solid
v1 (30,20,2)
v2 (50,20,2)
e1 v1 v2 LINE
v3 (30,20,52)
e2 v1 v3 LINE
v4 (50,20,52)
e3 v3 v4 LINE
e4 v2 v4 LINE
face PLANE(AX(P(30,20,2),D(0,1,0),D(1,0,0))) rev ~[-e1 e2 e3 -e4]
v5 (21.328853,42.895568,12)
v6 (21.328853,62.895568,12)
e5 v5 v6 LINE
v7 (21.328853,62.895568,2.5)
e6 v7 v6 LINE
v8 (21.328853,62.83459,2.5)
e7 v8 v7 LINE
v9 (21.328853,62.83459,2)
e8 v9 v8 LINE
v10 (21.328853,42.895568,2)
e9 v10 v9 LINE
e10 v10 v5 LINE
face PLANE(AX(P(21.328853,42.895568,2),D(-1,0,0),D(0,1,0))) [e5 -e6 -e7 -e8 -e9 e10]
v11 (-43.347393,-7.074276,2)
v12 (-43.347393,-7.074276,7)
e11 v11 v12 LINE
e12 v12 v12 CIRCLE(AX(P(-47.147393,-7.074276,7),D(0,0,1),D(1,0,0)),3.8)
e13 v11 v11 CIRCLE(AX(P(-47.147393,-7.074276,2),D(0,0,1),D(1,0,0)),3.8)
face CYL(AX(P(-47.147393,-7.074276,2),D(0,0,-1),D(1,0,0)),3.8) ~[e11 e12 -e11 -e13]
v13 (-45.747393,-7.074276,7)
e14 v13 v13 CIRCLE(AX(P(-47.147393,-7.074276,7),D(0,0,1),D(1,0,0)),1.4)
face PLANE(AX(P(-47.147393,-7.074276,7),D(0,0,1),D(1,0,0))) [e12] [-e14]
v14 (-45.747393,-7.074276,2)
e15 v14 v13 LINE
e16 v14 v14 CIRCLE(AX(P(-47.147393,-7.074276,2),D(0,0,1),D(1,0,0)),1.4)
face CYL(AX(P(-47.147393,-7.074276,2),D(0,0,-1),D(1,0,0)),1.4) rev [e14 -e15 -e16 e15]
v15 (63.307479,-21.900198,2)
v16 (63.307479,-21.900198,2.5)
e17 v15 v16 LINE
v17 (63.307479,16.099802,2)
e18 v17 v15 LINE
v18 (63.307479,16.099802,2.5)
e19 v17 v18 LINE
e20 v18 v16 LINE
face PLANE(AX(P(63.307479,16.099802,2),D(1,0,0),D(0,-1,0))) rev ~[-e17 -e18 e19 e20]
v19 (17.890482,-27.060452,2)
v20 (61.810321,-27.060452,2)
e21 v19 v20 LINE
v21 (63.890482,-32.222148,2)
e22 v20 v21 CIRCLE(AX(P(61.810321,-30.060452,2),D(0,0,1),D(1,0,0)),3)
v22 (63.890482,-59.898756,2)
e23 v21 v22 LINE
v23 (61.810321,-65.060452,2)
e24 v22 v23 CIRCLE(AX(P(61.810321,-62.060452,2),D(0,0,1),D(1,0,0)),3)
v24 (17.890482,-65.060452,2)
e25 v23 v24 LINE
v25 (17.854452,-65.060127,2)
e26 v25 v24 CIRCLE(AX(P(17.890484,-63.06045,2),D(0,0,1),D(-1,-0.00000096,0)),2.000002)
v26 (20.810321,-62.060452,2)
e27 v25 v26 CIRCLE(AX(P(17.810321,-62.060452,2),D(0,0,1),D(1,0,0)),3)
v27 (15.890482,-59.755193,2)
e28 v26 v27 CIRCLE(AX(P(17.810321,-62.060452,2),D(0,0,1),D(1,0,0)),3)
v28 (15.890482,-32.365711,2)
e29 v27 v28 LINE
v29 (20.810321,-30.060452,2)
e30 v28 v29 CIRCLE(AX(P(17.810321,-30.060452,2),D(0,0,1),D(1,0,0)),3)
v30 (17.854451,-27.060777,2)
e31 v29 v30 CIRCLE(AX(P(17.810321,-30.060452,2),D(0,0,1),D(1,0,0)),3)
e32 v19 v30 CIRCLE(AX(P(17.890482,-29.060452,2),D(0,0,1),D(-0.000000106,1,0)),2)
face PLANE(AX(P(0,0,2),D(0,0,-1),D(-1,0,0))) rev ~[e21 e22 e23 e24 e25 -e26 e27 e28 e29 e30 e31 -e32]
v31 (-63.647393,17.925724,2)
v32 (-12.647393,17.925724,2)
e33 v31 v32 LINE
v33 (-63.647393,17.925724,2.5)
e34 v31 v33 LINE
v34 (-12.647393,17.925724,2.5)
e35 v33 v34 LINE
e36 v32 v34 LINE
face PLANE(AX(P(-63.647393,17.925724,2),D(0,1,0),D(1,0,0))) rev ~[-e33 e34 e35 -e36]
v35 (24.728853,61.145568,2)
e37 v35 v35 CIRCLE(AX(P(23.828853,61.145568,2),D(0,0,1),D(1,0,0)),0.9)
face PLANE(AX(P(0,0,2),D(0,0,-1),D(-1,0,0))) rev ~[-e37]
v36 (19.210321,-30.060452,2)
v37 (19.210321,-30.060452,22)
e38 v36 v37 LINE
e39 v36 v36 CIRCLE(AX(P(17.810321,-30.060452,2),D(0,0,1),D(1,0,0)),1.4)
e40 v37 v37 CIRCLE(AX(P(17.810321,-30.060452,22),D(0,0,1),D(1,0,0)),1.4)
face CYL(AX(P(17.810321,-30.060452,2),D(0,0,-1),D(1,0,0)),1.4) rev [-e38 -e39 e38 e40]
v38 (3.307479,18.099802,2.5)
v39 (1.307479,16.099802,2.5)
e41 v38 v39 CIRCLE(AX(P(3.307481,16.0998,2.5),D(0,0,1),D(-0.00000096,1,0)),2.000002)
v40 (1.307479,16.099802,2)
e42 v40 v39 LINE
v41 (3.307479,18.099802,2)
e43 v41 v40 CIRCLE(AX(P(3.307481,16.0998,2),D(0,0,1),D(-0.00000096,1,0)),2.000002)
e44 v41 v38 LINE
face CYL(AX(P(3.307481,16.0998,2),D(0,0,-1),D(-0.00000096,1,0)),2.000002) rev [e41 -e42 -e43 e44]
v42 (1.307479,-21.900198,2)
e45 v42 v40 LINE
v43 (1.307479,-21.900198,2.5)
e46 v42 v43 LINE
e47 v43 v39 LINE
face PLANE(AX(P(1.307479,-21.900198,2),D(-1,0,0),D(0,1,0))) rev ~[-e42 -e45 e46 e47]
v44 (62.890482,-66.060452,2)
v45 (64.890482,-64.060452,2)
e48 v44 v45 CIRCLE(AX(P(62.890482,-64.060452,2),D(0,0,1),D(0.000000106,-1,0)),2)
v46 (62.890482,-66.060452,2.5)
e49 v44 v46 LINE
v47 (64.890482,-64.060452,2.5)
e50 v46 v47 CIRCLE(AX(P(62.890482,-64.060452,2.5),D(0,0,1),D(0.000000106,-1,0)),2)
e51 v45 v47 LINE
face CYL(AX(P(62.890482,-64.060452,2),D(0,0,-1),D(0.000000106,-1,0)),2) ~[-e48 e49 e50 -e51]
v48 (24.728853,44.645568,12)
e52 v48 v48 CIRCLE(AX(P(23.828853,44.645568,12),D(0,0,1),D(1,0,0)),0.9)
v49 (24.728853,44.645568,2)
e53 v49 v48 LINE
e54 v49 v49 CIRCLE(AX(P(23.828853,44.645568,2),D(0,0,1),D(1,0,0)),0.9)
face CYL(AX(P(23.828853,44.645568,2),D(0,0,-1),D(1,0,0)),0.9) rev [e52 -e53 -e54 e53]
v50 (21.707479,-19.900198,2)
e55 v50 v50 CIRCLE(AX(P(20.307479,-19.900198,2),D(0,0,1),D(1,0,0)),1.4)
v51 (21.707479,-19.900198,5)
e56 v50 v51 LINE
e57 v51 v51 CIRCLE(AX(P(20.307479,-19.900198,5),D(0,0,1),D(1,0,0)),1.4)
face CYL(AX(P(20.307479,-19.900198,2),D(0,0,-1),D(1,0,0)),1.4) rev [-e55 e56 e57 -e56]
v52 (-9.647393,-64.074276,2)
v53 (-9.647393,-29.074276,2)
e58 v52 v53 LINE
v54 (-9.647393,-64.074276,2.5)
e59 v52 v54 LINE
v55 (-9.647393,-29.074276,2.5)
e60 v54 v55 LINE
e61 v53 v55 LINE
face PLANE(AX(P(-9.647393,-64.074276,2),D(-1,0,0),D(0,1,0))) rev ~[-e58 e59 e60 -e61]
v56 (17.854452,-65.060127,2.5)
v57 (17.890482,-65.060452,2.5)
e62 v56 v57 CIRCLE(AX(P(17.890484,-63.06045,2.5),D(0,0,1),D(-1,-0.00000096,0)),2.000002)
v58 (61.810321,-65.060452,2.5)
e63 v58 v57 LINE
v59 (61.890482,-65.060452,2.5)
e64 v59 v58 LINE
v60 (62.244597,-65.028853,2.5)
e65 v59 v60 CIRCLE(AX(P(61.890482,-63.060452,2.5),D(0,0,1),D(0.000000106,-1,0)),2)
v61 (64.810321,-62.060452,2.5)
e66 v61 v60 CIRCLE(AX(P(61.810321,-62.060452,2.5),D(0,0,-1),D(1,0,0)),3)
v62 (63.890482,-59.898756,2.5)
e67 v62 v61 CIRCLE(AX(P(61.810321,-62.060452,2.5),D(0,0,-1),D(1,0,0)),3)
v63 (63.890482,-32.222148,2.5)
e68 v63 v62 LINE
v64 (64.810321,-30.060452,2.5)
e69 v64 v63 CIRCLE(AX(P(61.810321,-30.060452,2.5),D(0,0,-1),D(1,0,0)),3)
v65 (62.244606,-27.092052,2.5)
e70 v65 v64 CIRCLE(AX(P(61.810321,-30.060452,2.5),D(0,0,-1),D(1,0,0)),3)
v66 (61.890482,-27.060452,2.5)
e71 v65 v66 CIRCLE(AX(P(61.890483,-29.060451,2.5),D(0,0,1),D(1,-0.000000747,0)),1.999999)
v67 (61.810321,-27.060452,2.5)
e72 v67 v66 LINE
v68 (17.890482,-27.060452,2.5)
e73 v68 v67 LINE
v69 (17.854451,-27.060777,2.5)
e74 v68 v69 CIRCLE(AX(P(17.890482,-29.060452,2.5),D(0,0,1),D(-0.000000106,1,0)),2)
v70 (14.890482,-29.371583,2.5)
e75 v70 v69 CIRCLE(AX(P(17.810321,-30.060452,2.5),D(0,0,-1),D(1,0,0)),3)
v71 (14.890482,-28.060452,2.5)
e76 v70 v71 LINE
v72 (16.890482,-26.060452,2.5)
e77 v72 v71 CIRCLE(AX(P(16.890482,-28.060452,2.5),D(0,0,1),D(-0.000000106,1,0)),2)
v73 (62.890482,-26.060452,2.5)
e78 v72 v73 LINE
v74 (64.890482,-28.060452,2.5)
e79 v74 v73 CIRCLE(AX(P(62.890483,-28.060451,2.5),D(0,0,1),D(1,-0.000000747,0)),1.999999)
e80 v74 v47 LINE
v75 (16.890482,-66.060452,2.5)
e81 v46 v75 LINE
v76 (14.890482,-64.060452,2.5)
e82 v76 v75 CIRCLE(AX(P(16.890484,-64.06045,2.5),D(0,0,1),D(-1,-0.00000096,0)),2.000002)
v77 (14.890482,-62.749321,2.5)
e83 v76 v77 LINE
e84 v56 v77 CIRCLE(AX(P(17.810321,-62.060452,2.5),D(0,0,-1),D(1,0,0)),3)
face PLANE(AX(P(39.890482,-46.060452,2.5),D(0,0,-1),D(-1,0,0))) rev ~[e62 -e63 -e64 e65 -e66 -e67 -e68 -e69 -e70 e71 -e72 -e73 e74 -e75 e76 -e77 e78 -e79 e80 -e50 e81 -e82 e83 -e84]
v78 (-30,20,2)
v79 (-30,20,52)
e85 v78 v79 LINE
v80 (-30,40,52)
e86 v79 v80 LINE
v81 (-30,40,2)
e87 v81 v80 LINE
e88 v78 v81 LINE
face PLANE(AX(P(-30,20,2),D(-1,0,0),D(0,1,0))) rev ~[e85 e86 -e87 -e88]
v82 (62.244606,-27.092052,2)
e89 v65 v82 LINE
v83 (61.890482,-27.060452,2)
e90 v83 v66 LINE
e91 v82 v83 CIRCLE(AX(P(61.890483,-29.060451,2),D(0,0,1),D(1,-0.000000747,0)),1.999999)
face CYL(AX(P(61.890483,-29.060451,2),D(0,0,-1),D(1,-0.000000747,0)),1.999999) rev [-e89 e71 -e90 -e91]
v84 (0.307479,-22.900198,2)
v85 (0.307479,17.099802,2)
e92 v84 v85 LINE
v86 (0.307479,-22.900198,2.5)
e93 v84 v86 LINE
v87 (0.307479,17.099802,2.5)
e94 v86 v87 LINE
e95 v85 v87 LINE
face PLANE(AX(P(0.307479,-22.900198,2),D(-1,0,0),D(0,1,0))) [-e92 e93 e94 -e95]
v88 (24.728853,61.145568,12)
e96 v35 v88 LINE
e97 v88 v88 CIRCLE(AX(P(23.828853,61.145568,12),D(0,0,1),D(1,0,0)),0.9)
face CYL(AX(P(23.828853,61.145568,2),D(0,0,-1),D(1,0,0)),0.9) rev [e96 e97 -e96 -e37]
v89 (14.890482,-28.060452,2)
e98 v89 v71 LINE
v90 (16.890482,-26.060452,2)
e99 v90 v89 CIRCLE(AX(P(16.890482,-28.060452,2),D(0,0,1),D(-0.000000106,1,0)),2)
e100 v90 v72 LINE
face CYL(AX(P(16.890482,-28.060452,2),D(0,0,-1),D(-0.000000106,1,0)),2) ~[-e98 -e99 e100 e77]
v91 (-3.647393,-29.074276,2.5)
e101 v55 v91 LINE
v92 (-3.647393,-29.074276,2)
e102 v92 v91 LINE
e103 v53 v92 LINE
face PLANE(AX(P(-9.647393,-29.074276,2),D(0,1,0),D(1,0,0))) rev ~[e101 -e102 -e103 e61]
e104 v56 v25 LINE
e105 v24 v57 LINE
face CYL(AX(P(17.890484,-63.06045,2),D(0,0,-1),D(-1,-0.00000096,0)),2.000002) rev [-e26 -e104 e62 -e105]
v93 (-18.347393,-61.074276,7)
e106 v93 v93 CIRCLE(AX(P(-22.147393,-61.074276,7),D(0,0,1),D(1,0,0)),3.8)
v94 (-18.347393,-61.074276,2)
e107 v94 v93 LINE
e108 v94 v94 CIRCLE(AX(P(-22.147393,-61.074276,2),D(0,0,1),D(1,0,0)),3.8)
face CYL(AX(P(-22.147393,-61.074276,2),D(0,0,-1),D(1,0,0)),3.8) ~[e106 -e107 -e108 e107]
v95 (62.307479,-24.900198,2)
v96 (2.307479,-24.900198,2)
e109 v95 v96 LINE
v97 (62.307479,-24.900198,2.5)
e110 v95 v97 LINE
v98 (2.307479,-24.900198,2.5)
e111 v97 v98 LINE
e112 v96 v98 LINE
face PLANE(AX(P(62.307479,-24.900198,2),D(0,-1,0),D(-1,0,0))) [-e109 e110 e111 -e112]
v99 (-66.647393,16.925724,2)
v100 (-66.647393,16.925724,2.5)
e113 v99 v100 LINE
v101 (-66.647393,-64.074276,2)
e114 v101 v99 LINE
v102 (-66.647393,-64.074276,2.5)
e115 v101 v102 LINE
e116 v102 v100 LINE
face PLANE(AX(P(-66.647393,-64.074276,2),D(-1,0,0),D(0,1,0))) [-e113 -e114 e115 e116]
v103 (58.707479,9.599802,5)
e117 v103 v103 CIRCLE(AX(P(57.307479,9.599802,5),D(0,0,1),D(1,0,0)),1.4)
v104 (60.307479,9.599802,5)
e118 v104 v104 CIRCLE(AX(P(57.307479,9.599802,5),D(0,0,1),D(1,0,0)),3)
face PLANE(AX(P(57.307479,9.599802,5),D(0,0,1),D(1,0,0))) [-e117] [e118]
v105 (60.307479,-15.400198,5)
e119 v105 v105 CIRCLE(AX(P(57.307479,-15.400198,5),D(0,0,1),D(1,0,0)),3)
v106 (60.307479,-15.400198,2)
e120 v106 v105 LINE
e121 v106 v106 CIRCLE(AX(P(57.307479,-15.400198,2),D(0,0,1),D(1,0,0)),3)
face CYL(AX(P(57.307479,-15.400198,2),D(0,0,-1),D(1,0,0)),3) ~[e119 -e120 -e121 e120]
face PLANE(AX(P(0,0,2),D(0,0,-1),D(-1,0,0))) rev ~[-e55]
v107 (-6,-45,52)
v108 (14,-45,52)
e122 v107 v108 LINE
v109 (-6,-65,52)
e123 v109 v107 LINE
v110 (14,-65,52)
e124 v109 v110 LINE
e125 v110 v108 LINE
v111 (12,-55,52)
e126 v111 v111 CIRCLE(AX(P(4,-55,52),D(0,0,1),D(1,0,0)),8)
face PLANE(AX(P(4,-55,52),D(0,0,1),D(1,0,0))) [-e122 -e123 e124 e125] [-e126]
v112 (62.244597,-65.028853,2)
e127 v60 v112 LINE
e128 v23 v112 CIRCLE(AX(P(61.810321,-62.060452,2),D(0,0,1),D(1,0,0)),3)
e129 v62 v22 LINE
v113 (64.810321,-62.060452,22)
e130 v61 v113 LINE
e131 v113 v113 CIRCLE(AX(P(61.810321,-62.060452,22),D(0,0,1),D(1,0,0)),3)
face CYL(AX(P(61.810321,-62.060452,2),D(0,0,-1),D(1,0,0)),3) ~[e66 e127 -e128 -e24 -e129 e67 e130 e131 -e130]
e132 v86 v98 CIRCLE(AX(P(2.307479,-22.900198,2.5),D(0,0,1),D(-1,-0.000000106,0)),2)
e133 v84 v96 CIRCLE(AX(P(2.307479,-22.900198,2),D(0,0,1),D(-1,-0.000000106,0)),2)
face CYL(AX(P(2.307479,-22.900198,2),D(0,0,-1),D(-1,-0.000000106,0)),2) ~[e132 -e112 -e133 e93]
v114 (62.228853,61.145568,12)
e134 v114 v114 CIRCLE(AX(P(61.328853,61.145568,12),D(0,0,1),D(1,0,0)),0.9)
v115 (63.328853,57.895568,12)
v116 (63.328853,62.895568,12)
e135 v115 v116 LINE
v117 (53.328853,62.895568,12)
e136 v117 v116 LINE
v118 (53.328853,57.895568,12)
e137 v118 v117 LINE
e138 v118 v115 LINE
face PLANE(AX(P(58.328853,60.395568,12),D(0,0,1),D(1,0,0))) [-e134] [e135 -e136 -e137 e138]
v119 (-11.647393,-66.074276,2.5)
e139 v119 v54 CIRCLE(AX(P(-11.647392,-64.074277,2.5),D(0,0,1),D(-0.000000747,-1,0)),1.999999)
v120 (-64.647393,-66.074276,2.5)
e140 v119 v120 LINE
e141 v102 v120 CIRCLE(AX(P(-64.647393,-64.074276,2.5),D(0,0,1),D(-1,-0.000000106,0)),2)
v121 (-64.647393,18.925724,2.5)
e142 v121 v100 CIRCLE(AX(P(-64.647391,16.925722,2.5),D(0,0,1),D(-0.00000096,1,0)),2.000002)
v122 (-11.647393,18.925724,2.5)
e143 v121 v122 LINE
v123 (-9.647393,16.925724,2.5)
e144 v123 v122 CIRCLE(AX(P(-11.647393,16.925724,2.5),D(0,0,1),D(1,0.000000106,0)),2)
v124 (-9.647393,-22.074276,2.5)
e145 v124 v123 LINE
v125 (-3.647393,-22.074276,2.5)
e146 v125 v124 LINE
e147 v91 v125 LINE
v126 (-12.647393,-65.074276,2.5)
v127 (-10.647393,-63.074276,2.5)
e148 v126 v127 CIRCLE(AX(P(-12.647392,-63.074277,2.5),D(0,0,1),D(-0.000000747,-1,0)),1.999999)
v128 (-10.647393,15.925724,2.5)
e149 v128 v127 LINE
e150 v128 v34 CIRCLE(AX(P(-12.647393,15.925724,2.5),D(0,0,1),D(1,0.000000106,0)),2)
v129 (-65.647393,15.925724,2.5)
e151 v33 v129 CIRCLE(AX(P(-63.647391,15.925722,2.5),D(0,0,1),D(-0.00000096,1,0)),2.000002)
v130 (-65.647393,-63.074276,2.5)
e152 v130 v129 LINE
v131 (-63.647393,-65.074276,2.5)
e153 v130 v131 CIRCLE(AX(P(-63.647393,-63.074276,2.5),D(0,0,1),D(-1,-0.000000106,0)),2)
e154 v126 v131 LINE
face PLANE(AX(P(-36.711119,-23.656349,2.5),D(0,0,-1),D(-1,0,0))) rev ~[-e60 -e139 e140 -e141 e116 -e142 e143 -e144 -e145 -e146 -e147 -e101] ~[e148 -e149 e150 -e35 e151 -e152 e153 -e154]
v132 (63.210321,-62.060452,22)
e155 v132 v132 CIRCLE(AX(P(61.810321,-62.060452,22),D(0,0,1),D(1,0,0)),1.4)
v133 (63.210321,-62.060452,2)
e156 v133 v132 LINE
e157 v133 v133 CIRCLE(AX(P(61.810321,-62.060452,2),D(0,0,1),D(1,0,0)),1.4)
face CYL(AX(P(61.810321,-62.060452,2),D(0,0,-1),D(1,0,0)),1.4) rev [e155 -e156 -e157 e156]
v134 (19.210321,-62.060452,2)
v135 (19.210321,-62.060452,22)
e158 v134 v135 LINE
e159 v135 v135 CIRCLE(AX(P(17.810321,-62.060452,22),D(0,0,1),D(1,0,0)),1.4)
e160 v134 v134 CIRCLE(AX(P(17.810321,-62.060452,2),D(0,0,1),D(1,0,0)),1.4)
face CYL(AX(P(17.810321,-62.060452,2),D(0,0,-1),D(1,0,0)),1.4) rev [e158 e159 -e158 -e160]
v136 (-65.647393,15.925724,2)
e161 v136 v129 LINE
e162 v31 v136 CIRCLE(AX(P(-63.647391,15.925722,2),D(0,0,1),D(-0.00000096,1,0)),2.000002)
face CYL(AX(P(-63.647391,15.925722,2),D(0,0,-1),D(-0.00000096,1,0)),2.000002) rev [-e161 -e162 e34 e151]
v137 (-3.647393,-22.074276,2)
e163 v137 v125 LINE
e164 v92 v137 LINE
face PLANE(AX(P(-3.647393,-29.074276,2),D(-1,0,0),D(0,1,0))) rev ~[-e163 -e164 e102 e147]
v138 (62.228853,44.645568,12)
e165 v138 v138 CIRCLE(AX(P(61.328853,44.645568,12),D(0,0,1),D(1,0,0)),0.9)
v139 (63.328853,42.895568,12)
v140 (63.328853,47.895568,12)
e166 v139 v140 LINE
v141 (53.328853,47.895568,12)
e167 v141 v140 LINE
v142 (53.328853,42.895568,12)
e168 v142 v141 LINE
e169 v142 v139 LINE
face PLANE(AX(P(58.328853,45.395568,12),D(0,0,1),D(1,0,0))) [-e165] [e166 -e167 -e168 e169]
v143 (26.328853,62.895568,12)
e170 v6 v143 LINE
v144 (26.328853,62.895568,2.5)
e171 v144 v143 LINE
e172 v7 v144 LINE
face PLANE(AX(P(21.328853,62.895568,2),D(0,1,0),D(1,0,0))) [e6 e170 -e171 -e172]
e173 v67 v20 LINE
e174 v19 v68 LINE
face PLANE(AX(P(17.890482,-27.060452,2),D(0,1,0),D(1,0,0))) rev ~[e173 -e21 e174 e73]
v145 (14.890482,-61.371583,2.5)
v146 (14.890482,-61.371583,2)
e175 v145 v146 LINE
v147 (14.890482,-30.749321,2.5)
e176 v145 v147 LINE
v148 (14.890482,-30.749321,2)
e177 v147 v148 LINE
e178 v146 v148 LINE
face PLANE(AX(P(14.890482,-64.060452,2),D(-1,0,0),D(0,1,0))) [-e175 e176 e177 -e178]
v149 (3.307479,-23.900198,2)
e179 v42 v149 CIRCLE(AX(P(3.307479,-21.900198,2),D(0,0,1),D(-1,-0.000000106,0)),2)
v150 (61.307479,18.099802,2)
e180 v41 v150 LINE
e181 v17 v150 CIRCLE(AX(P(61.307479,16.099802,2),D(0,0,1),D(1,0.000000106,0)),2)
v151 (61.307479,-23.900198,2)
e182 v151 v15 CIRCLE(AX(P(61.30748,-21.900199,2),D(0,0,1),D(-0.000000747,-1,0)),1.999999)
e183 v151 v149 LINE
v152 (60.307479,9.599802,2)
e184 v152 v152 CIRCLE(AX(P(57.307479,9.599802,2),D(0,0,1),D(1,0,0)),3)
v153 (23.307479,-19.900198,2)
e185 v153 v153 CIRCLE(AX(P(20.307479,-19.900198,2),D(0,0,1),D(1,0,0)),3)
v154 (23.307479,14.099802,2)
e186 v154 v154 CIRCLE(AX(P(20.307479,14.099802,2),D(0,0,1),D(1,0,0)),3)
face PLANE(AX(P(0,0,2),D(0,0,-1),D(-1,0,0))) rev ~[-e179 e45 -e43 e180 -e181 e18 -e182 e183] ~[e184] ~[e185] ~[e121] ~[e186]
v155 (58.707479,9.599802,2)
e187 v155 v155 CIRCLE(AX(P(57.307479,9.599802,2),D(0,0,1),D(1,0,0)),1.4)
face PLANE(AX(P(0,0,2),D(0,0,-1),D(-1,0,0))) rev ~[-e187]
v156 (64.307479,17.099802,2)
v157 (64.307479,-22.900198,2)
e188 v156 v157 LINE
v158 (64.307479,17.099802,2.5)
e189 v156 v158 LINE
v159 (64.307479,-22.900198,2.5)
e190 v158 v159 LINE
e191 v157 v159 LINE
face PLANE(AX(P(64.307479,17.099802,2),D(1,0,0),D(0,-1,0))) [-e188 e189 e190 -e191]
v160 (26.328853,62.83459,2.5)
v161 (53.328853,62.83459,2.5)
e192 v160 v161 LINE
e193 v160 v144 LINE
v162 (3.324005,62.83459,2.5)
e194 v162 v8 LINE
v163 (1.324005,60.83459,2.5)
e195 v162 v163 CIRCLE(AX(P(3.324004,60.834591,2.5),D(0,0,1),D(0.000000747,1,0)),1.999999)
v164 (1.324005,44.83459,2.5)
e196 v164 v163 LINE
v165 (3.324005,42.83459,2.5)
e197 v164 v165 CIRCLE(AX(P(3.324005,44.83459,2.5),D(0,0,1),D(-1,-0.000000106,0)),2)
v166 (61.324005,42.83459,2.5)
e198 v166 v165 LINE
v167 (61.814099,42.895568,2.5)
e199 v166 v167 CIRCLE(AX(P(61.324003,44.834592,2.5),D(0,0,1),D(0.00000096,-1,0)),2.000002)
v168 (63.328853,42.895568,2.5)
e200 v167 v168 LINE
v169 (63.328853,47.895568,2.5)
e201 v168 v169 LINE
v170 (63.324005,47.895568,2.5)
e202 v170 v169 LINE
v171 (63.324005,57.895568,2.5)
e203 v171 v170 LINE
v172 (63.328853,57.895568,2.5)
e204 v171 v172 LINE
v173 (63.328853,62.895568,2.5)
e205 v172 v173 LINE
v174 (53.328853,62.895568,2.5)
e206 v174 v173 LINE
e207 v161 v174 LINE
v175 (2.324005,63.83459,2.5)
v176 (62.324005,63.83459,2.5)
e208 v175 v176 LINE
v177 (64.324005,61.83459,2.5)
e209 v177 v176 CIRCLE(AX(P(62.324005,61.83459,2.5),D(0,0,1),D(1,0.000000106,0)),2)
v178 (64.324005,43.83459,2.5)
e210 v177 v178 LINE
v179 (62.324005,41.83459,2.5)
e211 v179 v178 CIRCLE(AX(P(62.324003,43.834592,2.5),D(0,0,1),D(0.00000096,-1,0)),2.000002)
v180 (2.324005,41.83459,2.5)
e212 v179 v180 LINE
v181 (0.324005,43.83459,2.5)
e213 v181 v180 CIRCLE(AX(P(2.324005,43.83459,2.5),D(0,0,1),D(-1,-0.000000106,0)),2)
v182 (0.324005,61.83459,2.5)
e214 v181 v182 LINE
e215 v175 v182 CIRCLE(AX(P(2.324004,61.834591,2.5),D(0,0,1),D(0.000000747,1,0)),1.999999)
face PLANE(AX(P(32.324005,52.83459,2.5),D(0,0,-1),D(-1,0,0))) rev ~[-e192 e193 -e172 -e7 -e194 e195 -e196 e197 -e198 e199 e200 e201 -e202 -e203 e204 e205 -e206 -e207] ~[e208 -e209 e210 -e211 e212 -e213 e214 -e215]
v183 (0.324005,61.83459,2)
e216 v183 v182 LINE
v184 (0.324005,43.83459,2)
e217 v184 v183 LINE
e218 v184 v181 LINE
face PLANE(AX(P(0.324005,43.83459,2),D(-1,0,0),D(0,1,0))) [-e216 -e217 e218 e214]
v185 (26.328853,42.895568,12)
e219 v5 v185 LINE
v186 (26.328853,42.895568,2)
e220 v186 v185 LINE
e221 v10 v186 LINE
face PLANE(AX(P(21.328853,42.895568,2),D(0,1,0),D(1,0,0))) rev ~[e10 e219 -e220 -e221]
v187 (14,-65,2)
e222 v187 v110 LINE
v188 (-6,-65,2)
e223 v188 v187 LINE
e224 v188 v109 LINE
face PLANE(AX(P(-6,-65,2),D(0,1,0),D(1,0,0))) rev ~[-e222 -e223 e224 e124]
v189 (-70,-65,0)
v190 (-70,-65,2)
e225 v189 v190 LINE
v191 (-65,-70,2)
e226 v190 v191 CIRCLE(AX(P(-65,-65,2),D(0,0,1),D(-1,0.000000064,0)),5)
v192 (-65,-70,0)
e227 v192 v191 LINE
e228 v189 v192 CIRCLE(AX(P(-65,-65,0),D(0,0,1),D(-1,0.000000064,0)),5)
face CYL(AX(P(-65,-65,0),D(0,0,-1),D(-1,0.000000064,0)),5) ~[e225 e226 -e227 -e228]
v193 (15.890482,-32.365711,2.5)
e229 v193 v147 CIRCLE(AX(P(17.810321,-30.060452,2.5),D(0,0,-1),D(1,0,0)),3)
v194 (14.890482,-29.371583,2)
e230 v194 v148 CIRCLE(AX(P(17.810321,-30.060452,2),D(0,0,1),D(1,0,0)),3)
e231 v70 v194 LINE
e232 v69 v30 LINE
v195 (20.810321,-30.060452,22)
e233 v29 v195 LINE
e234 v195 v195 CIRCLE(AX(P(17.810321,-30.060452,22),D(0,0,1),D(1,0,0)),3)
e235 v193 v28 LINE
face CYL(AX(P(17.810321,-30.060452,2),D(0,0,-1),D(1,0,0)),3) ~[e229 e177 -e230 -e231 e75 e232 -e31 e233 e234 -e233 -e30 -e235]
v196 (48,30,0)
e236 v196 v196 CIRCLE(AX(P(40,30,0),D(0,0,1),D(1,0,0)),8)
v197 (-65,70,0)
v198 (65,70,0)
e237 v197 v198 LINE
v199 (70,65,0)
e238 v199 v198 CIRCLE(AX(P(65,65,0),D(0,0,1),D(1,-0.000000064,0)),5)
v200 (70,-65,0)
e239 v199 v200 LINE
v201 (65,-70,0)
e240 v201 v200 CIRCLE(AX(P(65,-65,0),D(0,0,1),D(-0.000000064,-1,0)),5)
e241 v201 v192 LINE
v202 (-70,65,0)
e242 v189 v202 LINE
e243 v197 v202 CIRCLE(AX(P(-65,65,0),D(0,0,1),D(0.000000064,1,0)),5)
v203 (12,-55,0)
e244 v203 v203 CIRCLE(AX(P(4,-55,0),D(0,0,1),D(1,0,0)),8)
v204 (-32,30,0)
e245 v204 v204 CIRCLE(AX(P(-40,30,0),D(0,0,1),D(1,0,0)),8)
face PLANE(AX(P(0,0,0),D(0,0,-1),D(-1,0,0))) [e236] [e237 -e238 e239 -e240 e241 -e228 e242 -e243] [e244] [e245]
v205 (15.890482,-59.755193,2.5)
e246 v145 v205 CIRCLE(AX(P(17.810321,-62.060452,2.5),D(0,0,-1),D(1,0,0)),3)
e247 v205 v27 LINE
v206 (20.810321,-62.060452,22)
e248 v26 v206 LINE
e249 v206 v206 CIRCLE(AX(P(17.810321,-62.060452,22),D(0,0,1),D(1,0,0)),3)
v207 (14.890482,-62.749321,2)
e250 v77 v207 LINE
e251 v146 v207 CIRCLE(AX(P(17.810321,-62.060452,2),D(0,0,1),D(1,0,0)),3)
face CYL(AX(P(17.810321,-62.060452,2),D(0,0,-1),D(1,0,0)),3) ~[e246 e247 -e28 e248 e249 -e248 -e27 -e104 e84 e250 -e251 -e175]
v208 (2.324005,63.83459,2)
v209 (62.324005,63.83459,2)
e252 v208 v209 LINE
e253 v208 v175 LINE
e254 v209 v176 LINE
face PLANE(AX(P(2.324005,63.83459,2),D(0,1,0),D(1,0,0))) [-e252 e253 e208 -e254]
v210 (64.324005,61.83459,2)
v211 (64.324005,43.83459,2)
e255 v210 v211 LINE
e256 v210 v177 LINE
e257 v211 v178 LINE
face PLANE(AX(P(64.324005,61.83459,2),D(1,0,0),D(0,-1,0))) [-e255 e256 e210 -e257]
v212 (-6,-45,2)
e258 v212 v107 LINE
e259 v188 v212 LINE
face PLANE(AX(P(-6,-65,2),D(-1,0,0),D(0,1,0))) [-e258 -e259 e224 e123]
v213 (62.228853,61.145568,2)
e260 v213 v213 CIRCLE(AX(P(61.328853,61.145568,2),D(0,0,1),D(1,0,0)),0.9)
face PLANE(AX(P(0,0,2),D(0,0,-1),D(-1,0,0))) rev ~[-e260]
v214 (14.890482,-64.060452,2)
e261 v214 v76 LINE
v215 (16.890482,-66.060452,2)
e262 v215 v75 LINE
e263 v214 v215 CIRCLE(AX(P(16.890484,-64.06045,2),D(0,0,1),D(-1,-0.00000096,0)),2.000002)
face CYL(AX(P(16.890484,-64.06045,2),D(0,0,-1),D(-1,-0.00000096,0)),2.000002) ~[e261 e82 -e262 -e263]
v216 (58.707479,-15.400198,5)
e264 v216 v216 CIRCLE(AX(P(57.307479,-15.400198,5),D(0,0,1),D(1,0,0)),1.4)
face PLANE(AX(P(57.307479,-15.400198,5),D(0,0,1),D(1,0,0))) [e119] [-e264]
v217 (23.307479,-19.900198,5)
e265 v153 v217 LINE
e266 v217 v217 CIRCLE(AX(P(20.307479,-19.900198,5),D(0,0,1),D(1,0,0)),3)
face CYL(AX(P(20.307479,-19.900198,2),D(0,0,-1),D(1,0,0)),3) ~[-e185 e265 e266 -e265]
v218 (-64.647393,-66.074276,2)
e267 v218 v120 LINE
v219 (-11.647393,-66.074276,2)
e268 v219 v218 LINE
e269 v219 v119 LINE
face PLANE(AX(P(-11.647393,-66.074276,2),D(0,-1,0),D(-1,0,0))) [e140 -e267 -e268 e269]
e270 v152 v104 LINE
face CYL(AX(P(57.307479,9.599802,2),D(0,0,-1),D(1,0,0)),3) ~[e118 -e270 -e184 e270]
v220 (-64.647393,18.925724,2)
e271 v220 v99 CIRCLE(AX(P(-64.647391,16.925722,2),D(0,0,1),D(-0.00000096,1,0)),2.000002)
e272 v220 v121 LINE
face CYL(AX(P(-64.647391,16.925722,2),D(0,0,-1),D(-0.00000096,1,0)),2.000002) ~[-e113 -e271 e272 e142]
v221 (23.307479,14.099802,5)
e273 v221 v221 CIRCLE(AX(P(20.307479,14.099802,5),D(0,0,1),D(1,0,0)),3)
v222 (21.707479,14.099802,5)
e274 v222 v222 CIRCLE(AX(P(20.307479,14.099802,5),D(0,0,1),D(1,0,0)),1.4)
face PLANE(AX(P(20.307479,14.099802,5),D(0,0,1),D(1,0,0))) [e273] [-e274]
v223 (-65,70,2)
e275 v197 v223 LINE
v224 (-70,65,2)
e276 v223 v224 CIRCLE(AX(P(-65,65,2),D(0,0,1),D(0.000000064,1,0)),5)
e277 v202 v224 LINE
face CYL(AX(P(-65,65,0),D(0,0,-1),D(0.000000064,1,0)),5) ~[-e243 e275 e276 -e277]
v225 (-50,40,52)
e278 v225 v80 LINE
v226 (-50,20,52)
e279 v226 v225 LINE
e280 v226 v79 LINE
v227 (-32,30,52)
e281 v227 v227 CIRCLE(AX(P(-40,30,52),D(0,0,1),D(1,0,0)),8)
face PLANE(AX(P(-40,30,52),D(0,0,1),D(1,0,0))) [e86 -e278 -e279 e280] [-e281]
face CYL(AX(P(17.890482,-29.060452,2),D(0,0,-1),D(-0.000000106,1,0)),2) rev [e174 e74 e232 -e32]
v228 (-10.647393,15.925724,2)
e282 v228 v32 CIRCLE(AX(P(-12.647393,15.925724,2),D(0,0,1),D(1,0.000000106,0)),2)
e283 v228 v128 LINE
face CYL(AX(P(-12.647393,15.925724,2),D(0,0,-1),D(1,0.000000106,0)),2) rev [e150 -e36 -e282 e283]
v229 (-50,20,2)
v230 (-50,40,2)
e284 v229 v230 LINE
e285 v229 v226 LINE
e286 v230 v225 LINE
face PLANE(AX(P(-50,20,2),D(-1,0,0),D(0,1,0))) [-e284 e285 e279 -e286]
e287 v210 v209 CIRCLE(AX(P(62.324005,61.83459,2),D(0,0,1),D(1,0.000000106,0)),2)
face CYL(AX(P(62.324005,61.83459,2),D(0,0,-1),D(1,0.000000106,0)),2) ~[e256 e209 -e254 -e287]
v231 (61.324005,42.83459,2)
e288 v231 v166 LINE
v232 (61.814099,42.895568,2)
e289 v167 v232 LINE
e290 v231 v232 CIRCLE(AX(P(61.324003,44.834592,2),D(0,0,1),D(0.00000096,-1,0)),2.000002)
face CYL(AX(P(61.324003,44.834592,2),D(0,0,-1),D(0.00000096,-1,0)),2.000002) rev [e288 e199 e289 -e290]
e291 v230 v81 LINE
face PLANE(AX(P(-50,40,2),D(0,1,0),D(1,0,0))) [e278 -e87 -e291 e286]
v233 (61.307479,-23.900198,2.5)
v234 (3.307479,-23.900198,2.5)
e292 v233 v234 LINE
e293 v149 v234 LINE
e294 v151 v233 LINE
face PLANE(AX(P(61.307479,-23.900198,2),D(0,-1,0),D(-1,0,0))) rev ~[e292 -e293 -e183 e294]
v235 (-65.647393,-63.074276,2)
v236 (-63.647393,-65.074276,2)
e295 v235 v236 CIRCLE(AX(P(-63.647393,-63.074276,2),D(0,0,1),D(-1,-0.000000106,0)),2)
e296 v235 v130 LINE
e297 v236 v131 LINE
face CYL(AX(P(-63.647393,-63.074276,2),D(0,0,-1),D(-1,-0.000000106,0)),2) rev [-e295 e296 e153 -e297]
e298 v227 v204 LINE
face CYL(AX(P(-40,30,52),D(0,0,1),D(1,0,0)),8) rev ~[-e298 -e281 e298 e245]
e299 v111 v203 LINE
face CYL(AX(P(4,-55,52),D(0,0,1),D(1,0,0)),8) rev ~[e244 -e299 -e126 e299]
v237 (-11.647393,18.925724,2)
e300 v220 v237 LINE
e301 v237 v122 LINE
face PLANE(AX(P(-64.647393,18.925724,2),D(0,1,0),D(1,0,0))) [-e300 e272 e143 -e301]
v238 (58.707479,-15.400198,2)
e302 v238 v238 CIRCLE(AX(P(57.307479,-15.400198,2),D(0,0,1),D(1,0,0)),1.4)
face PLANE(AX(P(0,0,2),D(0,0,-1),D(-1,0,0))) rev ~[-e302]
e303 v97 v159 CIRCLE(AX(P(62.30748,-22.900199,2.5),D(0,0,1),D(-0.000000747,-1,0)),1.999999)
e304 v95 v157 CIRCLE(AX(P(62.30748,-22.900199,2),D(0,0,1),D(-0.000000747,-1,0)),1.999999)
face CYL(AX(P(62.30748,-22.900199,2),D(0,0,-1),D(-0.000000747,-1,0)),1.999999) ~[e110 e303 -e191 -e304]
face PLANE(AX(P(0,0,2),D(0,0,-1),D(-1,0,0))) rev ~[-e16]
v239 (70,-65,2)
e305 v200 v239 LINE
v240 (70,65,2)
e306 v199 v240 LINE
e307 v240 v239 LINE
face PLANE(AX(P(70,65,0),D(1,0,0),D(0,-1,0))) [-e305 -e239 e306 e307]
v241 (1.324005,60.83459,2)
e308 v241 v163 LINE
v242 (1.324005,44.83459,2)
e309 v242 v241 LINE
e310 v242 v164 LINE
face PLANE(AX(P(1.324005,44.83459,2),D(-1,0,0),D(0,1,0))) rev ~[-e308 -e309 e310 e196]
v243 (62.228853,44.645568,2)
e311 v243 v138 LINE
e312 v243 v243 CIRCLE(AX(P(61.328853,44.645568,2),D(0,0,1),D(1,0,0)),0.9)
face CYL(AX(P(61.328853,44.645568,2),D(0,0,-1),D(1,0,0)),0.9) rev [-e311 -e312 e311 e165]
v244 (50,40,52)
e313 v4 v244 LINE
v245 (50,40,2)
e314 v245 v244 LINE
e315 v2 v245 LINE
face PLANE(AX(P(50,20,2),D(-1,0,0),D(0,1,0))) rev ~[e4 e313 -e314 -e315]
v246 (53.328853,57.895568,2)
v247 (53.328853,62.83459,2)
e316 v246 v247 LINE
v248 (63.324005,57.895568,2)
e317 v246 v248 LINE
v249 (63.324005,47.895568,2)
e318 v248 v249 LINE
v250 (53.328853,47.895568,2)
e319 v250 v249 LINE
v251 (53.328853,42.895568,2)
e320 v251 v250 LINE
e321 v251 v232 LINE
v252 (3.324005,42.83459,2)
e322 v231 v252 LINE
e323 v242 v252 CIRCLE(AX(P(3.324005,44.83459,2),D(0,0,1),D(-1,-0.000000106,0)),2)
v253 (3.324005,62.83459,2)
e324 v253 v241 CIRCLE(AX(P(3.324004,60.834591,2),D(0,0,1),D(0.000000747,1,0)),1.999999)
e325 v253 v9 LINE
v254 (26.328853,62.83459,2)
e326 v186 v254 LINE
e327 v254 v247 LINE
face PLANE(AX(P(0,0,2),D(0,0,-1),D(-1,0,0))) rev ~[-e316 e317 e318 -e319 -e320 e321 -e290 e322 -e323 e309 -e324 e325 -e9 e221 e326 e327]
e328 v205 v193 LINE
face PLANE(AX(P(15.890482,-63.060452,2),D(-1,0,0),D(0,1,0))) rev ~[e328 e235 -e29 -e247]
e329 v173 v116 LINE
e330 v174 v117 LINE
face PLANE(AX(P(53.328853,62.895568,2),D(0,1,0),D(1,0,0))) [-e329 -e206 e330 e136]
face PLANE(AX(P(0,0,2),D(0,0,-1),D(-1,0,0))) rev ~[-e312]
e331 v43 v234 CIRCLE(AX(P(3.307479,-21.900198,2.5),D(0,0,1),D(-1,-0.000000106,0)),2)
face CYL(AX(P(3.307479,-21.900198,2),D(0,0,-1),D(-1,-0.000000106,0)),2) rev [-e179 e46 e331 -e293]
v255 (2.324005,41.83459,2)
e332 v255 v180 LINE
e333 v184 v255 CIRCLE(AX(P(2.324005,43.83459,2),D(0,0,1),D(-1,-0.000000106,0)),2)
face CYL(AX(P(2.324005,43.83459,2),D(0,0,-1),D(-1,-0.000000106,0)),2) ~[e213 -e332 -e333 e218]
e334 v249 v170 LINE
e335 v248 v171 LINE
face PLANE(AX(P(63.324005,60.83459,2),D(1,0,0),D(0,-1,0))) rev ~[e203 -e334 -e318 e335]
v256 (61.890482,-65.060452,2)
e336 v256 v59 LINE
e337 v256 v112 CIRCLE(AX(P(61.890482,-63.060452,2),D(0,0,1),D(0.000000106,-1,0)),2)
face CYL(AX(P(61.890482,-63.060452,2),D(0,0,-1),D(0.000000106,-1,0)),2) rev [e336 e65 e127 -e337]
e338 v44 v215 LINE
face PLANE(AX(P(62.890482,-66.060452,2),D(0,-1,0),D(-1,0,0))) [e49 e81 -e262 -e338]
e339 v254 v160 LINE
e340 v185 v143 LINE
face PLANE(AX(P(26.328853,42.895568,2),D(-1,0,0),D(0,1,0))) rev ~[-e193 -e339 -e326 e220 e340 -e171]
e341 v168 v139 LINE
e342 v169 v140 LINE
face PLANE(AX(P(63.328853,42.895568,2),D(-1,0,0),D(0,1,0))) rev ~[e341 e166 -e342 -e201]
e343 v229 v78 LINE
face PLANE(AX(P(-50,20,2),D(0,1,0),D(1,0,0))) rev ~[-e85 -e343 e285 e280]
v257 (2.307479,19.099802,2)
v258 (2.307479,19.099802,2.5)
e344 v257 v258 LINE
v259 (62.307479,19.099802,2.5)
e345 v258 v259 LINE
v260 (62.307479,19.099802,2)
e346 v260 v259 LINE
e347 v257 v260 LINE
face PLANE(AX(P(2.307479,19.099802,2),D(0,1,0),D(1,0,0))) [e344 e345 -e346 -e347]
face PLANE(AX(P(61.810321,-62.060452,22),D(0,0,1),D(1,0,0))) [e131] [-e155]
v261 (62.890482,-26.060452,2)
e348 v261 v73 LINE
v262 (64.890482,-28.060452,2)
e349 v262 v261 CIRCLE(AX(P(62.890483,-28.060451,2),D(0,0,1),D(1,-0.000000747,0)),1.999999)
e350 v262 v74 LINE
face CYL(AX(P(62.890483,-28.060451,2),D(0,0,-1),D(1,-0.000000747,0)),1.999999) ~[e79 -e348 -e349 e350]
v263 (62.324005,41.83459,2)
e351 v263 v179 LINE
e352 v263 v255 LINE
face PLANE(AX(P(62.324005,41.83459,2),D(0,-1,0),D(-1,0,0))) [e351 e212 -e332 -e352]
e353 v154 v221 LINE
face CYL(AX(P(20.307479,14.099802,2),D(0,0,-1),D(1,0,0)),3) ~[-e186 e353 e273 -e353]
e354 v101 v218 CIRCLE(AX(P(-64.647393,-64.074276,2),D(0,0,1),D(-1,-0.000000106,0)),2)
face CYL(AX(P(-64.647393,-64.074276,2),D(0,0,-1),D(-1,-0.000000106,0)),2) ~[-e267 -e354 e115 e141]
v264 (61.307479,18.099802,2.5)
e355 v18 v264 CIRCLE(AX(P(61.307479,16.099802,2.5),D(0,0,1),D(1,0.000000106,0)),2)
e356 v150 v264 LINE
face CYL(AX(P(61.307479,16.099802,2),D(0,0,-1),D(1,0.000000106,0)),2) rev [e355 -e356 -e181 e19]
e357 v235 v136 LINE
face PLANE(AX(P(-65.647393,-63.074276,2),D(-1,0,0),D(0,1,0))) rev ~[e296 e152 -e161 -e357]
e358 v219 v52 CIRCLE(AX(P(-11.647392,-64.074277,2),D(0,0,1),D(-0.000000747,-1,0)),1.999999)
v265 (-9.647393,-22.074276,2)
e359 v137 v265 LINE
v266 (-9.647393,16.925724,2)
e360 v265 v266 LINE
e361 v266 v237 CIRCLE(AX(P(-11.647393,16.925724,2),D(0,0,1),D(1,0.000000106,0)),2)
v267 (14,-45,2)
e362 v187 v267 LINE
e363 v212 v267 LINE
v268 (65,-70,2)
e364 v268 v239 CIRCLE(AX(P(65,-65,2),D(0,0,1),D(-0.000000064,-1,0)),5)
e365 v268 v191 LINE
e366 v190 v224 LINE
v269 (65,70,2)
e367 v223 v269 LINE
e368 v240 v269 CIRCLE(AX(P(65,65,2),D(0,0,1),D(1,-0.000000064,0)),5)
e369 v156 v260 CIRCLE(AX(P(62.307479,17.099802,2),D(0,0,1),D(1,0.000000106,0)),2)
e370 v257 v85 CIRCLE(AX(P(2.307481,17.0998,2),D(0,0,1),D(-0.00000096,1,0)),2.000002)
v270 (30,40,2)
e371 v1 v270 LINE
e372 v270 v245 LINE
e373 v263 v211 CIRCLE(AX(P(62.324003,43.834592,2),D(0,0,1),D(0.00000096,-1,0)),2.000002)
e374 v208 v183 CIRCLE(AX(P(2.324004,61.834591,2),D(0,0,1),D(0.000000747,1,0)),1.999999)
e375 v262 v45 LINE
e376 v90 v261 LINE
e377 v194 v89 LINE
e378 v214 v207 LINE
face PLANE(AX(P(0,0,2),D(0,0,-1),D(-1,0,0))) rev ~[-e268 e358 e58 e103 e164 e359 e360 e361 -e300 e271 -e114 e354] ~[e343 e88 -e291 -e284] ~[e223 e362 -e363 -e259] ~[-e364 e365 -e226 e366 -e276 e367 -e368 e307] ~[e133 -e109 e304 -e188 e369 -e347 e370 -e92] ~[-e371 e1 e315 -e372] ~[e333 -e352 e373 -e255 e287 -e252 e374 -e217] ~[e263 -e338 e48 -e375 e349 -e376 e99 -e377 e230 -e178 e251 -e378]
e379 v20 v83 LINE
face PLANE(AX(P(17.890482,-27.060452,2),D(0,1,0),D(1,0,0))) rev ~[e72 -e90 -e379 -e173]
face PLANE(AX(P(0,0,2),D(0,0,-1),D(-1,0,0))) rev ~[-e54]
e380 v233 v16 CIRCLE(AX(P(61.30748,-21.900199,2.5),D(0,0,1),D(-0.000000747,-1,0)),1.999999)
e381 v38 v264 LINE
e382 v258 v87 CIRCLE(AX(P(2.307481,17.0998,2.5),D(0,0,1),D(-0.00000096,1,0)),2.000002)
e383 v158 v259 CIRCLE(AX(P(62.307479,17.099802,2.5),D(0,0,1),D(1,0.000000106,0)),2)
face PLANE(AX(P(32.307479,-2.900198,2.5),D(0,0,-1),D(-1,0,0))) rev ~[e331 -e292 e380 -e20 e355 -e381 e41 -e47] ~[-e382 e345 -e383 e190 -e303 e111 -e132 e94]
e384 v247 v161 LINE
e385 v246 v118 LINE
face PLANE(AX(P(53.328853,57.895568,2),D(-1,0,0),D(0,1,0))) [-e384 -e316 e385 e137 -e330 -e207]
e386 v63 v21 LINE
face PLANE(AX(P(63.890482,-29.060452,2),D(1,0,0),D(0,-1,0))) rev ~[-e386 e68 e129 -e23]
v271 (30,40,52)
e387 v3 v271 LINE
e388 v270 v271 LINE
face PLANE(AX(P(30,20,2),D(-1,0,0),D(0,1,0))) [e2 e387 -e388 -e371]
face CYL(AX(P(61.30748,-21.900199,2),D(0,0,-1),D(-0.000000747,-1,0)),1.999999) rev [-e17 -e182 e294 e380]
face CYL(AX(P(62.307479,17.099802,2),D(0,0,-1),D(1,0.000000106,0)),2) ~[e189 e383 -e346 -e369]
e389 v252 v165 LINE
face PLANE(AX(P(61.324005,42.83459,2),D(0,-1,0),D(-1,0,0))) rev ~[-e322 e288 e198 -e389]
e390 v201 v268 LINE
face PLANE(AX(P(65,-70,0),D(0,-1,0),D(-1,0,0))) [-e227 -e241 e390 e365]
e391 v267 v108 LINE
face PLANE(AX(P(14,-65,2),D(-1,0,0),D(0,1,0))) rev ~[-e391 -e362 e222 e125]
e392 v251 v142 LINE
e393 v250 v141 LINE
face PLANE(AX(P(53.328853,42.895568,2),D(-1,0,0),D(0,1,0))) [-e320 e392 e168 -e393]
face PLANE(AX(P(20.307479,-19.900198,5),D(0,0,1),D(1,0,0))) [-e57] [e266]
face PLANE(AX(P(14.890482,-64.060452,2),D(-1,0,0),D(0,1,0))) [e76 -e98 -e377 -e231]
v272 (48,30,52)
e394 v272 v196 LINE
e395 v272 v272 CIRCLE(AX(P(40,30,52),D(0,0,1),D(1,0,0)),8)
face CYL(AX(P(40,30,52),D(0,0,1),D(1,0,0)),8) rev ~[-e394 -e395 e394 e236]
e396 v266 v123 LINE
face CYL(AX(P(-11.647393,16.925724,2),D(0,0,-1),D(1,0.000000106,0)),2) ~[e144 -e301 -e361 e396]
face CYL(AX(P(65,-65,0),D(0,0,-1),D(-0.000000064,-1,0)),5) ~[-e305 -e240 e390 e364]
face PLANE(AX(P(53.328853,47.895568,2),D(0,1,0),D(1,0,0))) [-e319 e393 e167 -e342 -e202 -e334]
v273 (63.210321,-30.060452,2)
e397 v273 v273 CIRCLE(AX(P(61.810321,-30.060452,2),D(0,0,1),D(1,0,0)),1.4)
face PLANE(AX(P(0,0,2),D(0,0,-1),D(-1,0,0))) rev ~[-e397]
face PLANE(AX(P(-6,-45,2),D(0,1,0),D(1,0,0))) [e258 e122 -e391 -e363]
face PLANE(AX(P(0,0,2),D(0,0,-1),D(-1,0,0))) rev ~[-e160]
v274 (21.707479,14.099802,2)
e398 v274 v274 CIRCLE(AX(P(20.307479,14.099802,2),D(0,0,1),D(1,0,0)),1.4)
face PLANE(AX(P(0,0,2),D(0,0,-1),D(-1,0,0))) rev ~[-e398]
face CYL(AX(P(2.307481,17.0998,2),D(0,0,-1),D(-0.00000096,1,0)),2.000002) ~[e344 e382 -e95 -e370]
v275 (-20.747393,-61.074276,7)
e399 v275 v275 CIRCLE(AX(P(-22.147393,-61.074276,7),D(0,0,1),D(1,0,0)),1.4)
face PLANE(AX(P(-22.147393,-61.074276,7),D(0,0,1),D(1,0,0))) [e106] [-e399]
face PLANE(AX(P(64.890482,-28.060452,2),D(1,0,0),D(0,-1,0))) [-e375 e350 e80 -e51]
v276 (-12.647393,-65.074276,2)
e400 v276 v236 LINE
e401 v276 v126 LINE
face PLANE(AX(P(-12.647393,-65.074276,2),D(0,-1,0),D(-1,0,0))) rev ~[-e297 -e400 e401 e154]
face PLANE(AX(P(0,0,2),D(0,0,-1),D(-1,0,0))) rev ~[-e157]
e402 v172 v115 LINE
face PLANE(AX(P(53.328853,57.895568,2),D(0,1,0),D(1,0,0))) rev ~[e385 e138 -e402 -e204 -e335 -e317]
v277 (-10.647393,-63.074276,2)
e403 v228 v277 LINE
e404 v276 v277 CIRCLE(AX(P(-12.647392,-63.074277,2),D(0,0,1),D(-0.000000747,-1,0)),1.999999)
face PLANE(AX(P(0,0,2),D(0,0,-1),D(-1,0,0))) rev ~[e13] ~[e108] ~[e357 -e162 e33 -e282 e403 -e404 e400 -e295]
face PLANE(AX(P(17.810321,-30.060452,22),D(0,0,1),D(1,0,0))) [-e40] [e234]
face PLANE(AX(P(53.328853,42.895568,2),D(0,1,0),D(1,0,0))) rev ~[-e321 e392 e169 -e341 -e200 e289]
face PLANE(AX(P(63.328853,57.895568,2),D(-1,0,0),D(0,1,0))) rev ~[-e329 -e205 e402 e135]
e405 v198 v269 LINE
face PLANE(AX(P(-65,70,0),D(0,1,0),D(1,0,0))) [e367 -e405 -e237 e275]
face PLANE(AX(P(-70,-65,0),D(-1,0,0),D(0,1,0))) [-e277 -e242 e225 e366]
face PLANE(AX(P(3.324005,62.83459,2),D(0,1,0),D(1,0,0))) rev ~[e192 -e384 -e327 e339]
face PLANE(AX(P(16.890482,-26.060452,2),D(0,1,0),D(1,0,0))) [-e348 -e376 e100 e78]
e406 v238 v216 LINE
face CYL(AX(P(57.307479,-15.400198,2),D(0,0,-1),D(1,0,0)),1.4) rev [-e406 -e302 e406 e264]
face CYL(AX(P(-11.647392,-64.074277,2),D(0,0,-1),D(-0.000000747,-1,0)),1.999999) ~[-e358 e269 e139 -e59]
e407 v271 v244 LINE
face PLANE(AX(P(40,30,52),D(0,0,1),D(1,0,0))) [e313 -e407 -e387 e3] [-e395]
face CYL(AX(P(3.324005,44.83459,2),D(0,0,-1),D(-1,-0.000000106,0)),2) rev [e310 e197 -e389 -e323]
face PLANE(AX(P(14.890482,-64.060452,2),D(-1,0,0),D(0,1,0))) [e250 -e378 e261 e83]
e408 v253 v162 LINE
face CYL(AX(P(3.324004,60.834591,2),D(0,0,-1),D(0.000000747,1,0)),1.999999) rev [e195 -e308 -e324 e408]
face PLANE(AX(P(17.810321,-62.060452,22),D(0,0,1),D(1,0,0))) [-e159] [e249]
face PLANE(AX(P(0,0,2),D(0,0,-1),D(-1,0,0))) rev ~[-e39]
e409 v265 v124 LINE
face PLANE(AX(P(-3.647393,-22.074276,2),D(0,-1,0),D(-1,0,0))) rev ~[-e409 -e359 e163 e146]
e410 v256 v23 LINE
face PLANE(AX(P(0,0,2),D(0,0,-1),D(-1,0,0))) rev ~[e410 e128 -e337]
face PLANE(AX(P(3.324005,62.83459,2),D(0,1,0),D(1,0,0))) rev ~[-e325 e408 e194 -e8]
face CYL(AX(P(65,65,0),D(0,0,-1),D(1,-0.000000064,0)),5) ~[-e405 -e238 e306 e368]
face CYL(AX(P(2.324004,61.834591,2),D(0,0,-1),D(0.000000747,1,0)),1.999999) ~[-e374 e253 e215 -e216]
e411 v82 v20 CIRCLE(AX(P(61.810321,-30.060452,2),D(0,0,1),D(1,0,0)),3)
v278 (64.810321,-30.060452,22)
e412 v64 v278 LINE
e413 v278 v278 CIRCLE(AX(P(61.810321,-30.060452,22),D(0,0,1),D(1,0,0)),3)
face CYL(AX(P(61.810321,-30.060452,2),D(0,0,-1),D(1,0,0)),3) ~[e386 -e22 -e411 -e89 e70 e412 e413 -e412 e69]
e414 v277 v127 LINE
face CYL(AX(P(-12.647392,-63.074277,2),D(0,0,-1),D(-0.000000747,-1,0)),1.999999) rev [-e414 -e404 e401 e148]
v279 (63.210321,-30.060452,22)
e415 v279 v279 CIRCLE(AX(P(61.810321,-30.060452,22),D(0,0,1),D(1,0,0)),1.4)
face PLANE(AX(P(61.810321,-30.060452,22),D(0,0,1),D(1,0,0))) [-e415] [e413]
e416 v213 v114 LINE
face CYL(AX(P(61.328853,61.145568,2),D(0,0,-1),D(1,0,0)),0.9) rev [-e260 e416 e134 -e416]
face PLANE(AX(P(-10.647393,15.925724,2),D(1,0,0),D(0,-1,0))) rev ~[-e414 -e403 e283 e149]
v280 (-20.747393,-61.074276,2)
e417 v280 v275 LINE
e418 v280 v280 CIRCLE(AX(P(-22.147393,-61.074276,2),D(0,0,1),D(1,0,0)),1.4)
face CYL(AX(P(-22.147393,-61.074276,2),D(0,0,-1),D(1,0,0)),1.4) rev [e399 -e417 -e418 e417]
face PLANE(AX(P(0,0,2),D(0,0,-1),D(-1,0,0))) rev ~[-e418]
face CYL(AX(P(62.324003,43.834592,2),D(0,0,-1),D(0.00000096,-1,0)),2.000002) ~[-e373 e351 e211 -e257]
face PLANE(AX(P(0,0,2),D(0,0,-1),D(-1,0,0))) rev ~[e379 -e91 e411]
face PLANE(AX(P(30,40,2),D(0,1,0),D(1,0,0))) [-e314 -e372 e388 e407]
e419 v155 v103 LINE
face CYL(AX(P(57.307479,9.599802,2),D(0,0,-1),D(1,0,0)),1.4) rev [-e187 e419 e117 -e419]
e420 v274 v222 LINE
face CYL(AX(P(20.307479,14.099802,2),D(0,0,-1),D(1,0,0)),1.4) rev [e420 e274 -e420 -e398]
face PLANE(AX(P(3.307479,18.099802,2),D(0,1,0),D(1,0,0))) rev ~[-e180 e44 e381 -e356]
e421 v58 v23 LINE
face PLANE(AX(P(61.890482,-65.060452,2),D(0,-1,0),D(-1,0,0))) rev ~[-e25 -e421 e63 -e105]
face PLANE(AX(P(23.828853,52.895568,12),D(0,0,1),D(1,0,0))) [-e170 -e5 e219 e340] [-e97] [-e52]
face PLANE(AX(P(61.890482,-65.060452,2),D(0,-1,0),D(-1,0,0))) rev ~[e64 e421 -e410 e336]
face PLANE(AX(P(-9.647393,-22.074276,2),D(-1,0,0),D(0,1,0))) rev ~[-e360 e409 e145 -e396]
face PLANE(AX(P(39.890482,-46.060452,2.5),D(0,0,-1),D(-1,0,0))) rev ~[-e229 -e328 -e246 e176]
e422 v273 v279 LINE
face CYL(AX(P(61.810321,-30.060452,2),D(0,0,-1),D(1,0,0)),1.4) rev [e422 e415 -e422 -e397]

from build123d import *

# Parameters (mm, degrees)
PAD_DEPTH     = 2
SKETCH002_W   = 20
SKETCH002_H   = 20
PAD001_DEPTH  = 50
SKETCH004_R   = 8
POCKET_DEPTH  = 52.001
PAD002_DEPTH  = 0.5
SKETCH010_R   = 3.8
SKETCH010_R_2 = 1.4
PAD003_DEPTH  = 5
SKETCH011_R   = 3
SKETCH011_R_2 = 1.4
PAD004_DEPTH  = 20
SKETCH012_W   = 5
SKETCH012_H   = 20
SKETCH012_R   = 0.9
SKETCH012_W_2 = 10
SKETCH012_H_2 = 5
PAD005_DEPTH  = 10
SKETCH013_R   = 3
SKETCH013_R_2 = 1.4
PAD006_DEPTH  = 3


with BuildPart() as part:
    # Sketch → Pad (new body)
    with BuildSketch(Plane.XY):
        with BuildLine():
            Line((-65, 70), (65, 70))
            ThreePointArc((70, 65), (68.535534, 68.535534), (65, 70))
            Line((70, 65), (70, -65))
            ThreePointArc((65, -70), (68.535534, -68.535534), (70, -65))
            Line((65, -70), (-65, -70))
            ThreePointArc((-70, -65), (-68.535534, -68.535534), (-65, -70))
            Line((-70, -65), (-70, 65))
            ThreePointArc((-65, 70), (-68.535534, 68.535534), (-70, 65))
        make_face()
    extrude(amount=PAD_DEPTH)

    # Sketch002 → Pad001 (new body)
    with BuildSketch(Plane.XY.offset(2)):
        with Locations((-40, 30)):
            Rectangle(SKETCH002_W, SKETCH002_H)
        with Locations((4, -55)):
            Rectangle(SKETCH002_W, SKETCH002_H)
        with Locations((40, 30)):
            Rectangle(SKETCH002_W, SKETCH002_H)
    extrude(amount=PAD001_DEPTH)

    # Sketch004 → Pocket (cut, through all)
    with BuildSketch(Plane.XY.offset(52)):
        with Locations((-40, 30)):
            Circle(SKETCH004_R)
        with Locations((40, 30)):
            Circle(SKETCH004_R)
        with Locations((4, -55)):
            Circle(SKETCH004_R)
    extrude(amount=-POCKET_DEPTH, mode=Mode.SUBTRACT)

    # Sketch001 → Pad002 (new body)
    with BuildSketch(Plane.XY.offset(2)):
        with BuildLine():
            Line((2.307479, 19.099802), (62.307479, 19.099802))
            ThreePointArc((64.307479, 17.099802), (63.721693, 18.514015), (62.307479, 19.099802))
            Line((64.307479, 17.099802), (64.307479, -22.900198))
            ThreePointArc((62.307479, -24.900198), (63.721693, -24.314412), (64.307479, -22.900198))
            Line((62.307479, -24.900198), (2.307479, -24.900198))
            ThreePointArc((0.307479, -22.900198), (0.893266, -24.314412), (2.307479, -24.900198))
            Line((0.307479, -22.900198), (0.307479, 17.099802))
            ThreePointArc((2.307479, 19.099802), (0.893266, 18.514015), (0.307479, 17.099802))
        make_face()
        with BuildLine():
            Line((3.307479, 18.099802), (61.307479, 18.099802))
            ThreePointArc((63.307479, 16.099802), (62.721693, 17.514015), (61.307479, 18.099802))
            Line((63.307479, 16.099802), (63.307479, -21.900198))
            ThreePointArc((61.307479, -23.900198), (62.721693, -23.314412), (63.307479, -21.900198))
            Line((61.307479, -23.900198), (3.307479, -23.900198))
            ThreePointArc((1.307479, -21.900198), (1.893266, -23.314412), (3.307479, -23.900198))
            Line((1.307479, -21.900198), (1.307479, 16.099802))
            ThreePointArc((3.307479, 18.099802), (1.893266, 17.514015), (1.307479, 16.099802))
        make_face(mode=Mode.SUBTRACT)
        with BuildLine():
            Line((16.890482, -26.060452), (62.890482, -26.060452))
            ThreePointArc((64.890482, -28.060452), (64.304696, -26.646238), (62.890482, -26.060452))
            Line((64.890482, -28.060452), (64.890482, -64.060452))
            ThreePointArc((62.890482, -66.060452), (64.304696, -65.474665), (64.890482, -64.060452))
            Line((62.890482, -66.060452), (16.890482, -66.060452))
            ThreePointArc((14.890482, -64.060452), (15.476269, -65.474665), (16.890482, -66.060452))
            Line((14.890482, -64.060452), (14.890482, -28.060452))
            ThreePointArc((16.890482, -26.060452), (15.476269, -26.646238), (14.890482, -28.060452))
        make_face()
        with BuildLine():
            Line((17.890482, -27.060452), (61.890482, -27.060452))
            ThreePointArc((63.890482, -29.060452), (63.304696, -27.646238), (61.890482, -27.060452))
            Line((63.890482, -29.060452), (63.890482, -63.060452))
            ThreePointArc((61.890482, -65.060452), (63.304696, -64.474665), (63.890482, -63.060452))
            Line((61.890482, -65.060452), (17.890482, -65.060452))
            ThreePointArc((15.890482, -63.060452), (16.476269, -64.474665), (17.890482, -65.060452))
            Line((15.890482, -63.060452), (15.890482, -29.060452))
            ThreePointArc((17.890482, -27.060452), (16.476269, -27.646238), (15.890482, -29.060452))
        make_face(mode=Mode.SUBTRACT)
        with BuildLine():
            Line((-64.647393, 18.925724), (-11.647393, 18.925724))
            ThreePointArc((-9.647393, 16.925724), (-10.233179, 18.339937), (-11.647393, 18.925724))
            Line((-9.647393, -22.074276), (-9.647393, 16.925724))
            Line((-3.647393, -22.074276), (-9.647393, -22.074276))
            Line((-3.647393, -29.074276), (-3.647393, -22.074276))
            Line((-9.647393, -29.074276), (-3.647393, -29.074276))
            Line((-9.647393, -64.074276), (-9.647393, -29.074276))
            ThreePointArc((-11.647393, -66.074276), (-10.233179, -65.48849), (-9.647393, -64.074276))
            Line((-11.647393, -66.074276), (-64.647393, -66.074276))
            ThreePointArc((-66.647393, -64.074276), (-66.061606, -65.48849), (-64.647393, -66.074276))
            Line((-66.647393, -64.074276), (-66.647393, 16.925724))
            ThreePointArc((-64.647393, 18.925724), (-66.061606, 18.339937), (-66.647393, 16.925724))
        make_face()
        with BuildLine():
            Line((-63.647393, 17.925724), (-12.647393, 17.925724))
            ThreePointArc((-10.647393, 15.925724), (-11.233179, 17.339937), (-12.647393, 17.925724))
            Line((-10.647393, 15.925724), (-10.647393, -63.074276))
            ThreePointArc((-12.647393, -65.074276), (-11.233179, -64.48849), (-10.647393, -63.074276))
            Line((-12.647393, -65.074276), (-63.647393, -65.074276))
            ThreePointArc((-65.647393, -63.074276), (-65.061606, -64.48849), (-63.647393, -65.074276))
            Line((-65.647393, -63.074276), (-65.647393, 15.925724))
            ThreePointArc((-63.647393, 17.925724), (-65.061606, 17.339937), (-65.647393, 15.925724))
        make_face(mode=Mode.SUBTRACT)
        with BuildLine():
            Line((2.324005, 63.83459), (62.324005, 63.83459))
            ThreePointArc((64.324005, 61.83459), (63.738218, 63.248804), (62.324005, 63.83459))
            Line((64.324005, 61.83459), (64.324005, 43.83459))
            ThreePointArc((62.324005, 41.83459), (63.738218, 42.420377), (64.324005, 43.83459))
            Line((62.324005, 41.83459), (2.324005, 41.83459))
            ThreePointArc((0.324005, 43.83459), (0.909791, 42.420377), (2.324005, 41.83459))
            Line((0.324005, 43.83459), (0.324005, 61.83459))
            ThreePointArc((2.324005, 63.83459), (0.909791, 63.248804), (0.324005, 61.83459))
        make_face()
        with BuildLine():
            Line((3.324005, 62.83459), (61.324005, 62.83459))
            ThreePointArc((63.324005, 60.83459), (62.738218, 62.248804), (61.324005, 62.83459))
            Line((63.324005, 60.83459), (63.324005, 44.83459))
            ThreePointArc((61.324005, 42.83459), (62.738218, 43.420377), (63.324005, 44.83459))
            Line((61.324005, 42.83459), (3.324005, 42.83459))
            ThreePointArc((1.324005, 44.83459), (1.909791, 43.420377), (3.324005, 42.83459))
            Line((1.324005, 44.83459), (1.324005, 60.83459))
            ThreePointArc((3.324005, 62.83459), (1.909791, 62.248804), (1.324005, 60.83459))
        make_face(mode=Mode.SUBTRACT)
    extrude(amount=PAD002_DEPTH)

    # Sketch010 → Pad003 (new body)
    with BuildSketch(Plane.XY.offset(2)):
        with Locations((-22.147393, -61.074276)):
            Circle(SKETCH010_R)
        with Locations((-22.147393, -61.074276)):
            Circle(SKETCH010_R_2, mode=Mode.SUBTRACT)
        with Locations((-47.147393, -7.074276)):
            Circle(SKETCH010_R)
        with Locations((-47.147393, -7.074276)):
            Circle(SKETCH010_R_2, mode=Mode.SUBTRACT)
    extrude(amount=PAD003_DEPTH)

    # Sketch011 → Pad004 (new body)
    with BuildSketch(Plane.XY.offset(2)):
        with Locations((17.810321, -30.060452)):
            Circle(SKETCH011_R)
        with Locations((17.810321, -30.060452)):
            Circle(SKETCH011_R_2, mode=Mode.SUBTRACT)
        with Locations((61.810321, -30.060452)):
            Circle(SKETCH011_R)
        with Locations((61.810321, -30.060452)):
            Circle(SKETCH011_R_2, mode=Mode.SUBTRACT)
        with Locations((61.810321, -62.060452)):
            Circle(SKETCH011_R)
        with Locations((61.810321, -62.060452)):
            Circle(SKETCH011_R_2, mode=Mode.SUBTRACT)
        with Locations((17.810321, -62.060452)):
            Circle(SKETCH011_R)
        with Locations((17.810321, -62.060452)):
            Circle(SKETCH011_R_2, mode=Mode.SUBTRACT)
    extrude(amount=PAD004_DEPTH)

    # Sketch012 → Pad005 (new body)
    with BuildSketch(Plane.XY.offset(2)):
        with Locations((23.828853, 52.895568)):
            Rectangle(SKETCH012_W, SKETCH012_H)
        with Locations((23.828853, 61.145568)):
            Circle(SKETCH012_R, mode=Mode.SUBTRACT)
        with Locations((23.828853, 44.645568)):
            Circle(SKETCH012_R, mode=Mode.SUBTRACT)
        with Locations((58.328853, 60.395568)):
            Rectangle(SKETCH012_W_2, SKETCH012_H_2)
        with Locations((61.328853, 61.145568)):
            Circle(SKETCH012_R, mode=Mode.SUBTRACT)
        with Locations((58.328853, 45.395568)):
            Rectangle(SKETCH012_W_2, SKETCH012_H_2)
        with Locations((61.328853, 44.645568)):
            Circle(SKETCH012_R, mode=Mode.SUBTRACT)
    extrude(amount=PAD005_DEPTH)

    # Sketch013 → Pad006 (new body)
    with BuildSketch(Plane.XY.offset(2)):
        with Locations((20.307479, 14.099802)):
            Circle(SKETCH013_R)
        with Locations((20.307479, 14.099802)):
            Circle(SKETCH013_R_2, mode=Mode.SUBTRACT)
        with Locations((20.307479, -19.900198)):
            Circle(SKETCH013_R)
        with Locations((20.307479, -19.900198)):
            Circle(SKETCH013_R_2, mode=Mode.SUBTRACT)
        with Locations((57.307479, 9.599802)):
            Circle(SKETCH013_R)
        with Locations((57.307479, 9.599802)):
            Circle(SKETCH013_R_2, mode=Mode.SUBTRACT)
        with Locations((57.307479, -15.400198)):
            Circle(SKETCH013_R)
        with Locations((57.307479, -15.400198)):
            Circle(SKETCH013_R_2, mode=Mode.SUBTRACT)
    extrude(amount=PAD006_DEPTH)


solid = part.part
